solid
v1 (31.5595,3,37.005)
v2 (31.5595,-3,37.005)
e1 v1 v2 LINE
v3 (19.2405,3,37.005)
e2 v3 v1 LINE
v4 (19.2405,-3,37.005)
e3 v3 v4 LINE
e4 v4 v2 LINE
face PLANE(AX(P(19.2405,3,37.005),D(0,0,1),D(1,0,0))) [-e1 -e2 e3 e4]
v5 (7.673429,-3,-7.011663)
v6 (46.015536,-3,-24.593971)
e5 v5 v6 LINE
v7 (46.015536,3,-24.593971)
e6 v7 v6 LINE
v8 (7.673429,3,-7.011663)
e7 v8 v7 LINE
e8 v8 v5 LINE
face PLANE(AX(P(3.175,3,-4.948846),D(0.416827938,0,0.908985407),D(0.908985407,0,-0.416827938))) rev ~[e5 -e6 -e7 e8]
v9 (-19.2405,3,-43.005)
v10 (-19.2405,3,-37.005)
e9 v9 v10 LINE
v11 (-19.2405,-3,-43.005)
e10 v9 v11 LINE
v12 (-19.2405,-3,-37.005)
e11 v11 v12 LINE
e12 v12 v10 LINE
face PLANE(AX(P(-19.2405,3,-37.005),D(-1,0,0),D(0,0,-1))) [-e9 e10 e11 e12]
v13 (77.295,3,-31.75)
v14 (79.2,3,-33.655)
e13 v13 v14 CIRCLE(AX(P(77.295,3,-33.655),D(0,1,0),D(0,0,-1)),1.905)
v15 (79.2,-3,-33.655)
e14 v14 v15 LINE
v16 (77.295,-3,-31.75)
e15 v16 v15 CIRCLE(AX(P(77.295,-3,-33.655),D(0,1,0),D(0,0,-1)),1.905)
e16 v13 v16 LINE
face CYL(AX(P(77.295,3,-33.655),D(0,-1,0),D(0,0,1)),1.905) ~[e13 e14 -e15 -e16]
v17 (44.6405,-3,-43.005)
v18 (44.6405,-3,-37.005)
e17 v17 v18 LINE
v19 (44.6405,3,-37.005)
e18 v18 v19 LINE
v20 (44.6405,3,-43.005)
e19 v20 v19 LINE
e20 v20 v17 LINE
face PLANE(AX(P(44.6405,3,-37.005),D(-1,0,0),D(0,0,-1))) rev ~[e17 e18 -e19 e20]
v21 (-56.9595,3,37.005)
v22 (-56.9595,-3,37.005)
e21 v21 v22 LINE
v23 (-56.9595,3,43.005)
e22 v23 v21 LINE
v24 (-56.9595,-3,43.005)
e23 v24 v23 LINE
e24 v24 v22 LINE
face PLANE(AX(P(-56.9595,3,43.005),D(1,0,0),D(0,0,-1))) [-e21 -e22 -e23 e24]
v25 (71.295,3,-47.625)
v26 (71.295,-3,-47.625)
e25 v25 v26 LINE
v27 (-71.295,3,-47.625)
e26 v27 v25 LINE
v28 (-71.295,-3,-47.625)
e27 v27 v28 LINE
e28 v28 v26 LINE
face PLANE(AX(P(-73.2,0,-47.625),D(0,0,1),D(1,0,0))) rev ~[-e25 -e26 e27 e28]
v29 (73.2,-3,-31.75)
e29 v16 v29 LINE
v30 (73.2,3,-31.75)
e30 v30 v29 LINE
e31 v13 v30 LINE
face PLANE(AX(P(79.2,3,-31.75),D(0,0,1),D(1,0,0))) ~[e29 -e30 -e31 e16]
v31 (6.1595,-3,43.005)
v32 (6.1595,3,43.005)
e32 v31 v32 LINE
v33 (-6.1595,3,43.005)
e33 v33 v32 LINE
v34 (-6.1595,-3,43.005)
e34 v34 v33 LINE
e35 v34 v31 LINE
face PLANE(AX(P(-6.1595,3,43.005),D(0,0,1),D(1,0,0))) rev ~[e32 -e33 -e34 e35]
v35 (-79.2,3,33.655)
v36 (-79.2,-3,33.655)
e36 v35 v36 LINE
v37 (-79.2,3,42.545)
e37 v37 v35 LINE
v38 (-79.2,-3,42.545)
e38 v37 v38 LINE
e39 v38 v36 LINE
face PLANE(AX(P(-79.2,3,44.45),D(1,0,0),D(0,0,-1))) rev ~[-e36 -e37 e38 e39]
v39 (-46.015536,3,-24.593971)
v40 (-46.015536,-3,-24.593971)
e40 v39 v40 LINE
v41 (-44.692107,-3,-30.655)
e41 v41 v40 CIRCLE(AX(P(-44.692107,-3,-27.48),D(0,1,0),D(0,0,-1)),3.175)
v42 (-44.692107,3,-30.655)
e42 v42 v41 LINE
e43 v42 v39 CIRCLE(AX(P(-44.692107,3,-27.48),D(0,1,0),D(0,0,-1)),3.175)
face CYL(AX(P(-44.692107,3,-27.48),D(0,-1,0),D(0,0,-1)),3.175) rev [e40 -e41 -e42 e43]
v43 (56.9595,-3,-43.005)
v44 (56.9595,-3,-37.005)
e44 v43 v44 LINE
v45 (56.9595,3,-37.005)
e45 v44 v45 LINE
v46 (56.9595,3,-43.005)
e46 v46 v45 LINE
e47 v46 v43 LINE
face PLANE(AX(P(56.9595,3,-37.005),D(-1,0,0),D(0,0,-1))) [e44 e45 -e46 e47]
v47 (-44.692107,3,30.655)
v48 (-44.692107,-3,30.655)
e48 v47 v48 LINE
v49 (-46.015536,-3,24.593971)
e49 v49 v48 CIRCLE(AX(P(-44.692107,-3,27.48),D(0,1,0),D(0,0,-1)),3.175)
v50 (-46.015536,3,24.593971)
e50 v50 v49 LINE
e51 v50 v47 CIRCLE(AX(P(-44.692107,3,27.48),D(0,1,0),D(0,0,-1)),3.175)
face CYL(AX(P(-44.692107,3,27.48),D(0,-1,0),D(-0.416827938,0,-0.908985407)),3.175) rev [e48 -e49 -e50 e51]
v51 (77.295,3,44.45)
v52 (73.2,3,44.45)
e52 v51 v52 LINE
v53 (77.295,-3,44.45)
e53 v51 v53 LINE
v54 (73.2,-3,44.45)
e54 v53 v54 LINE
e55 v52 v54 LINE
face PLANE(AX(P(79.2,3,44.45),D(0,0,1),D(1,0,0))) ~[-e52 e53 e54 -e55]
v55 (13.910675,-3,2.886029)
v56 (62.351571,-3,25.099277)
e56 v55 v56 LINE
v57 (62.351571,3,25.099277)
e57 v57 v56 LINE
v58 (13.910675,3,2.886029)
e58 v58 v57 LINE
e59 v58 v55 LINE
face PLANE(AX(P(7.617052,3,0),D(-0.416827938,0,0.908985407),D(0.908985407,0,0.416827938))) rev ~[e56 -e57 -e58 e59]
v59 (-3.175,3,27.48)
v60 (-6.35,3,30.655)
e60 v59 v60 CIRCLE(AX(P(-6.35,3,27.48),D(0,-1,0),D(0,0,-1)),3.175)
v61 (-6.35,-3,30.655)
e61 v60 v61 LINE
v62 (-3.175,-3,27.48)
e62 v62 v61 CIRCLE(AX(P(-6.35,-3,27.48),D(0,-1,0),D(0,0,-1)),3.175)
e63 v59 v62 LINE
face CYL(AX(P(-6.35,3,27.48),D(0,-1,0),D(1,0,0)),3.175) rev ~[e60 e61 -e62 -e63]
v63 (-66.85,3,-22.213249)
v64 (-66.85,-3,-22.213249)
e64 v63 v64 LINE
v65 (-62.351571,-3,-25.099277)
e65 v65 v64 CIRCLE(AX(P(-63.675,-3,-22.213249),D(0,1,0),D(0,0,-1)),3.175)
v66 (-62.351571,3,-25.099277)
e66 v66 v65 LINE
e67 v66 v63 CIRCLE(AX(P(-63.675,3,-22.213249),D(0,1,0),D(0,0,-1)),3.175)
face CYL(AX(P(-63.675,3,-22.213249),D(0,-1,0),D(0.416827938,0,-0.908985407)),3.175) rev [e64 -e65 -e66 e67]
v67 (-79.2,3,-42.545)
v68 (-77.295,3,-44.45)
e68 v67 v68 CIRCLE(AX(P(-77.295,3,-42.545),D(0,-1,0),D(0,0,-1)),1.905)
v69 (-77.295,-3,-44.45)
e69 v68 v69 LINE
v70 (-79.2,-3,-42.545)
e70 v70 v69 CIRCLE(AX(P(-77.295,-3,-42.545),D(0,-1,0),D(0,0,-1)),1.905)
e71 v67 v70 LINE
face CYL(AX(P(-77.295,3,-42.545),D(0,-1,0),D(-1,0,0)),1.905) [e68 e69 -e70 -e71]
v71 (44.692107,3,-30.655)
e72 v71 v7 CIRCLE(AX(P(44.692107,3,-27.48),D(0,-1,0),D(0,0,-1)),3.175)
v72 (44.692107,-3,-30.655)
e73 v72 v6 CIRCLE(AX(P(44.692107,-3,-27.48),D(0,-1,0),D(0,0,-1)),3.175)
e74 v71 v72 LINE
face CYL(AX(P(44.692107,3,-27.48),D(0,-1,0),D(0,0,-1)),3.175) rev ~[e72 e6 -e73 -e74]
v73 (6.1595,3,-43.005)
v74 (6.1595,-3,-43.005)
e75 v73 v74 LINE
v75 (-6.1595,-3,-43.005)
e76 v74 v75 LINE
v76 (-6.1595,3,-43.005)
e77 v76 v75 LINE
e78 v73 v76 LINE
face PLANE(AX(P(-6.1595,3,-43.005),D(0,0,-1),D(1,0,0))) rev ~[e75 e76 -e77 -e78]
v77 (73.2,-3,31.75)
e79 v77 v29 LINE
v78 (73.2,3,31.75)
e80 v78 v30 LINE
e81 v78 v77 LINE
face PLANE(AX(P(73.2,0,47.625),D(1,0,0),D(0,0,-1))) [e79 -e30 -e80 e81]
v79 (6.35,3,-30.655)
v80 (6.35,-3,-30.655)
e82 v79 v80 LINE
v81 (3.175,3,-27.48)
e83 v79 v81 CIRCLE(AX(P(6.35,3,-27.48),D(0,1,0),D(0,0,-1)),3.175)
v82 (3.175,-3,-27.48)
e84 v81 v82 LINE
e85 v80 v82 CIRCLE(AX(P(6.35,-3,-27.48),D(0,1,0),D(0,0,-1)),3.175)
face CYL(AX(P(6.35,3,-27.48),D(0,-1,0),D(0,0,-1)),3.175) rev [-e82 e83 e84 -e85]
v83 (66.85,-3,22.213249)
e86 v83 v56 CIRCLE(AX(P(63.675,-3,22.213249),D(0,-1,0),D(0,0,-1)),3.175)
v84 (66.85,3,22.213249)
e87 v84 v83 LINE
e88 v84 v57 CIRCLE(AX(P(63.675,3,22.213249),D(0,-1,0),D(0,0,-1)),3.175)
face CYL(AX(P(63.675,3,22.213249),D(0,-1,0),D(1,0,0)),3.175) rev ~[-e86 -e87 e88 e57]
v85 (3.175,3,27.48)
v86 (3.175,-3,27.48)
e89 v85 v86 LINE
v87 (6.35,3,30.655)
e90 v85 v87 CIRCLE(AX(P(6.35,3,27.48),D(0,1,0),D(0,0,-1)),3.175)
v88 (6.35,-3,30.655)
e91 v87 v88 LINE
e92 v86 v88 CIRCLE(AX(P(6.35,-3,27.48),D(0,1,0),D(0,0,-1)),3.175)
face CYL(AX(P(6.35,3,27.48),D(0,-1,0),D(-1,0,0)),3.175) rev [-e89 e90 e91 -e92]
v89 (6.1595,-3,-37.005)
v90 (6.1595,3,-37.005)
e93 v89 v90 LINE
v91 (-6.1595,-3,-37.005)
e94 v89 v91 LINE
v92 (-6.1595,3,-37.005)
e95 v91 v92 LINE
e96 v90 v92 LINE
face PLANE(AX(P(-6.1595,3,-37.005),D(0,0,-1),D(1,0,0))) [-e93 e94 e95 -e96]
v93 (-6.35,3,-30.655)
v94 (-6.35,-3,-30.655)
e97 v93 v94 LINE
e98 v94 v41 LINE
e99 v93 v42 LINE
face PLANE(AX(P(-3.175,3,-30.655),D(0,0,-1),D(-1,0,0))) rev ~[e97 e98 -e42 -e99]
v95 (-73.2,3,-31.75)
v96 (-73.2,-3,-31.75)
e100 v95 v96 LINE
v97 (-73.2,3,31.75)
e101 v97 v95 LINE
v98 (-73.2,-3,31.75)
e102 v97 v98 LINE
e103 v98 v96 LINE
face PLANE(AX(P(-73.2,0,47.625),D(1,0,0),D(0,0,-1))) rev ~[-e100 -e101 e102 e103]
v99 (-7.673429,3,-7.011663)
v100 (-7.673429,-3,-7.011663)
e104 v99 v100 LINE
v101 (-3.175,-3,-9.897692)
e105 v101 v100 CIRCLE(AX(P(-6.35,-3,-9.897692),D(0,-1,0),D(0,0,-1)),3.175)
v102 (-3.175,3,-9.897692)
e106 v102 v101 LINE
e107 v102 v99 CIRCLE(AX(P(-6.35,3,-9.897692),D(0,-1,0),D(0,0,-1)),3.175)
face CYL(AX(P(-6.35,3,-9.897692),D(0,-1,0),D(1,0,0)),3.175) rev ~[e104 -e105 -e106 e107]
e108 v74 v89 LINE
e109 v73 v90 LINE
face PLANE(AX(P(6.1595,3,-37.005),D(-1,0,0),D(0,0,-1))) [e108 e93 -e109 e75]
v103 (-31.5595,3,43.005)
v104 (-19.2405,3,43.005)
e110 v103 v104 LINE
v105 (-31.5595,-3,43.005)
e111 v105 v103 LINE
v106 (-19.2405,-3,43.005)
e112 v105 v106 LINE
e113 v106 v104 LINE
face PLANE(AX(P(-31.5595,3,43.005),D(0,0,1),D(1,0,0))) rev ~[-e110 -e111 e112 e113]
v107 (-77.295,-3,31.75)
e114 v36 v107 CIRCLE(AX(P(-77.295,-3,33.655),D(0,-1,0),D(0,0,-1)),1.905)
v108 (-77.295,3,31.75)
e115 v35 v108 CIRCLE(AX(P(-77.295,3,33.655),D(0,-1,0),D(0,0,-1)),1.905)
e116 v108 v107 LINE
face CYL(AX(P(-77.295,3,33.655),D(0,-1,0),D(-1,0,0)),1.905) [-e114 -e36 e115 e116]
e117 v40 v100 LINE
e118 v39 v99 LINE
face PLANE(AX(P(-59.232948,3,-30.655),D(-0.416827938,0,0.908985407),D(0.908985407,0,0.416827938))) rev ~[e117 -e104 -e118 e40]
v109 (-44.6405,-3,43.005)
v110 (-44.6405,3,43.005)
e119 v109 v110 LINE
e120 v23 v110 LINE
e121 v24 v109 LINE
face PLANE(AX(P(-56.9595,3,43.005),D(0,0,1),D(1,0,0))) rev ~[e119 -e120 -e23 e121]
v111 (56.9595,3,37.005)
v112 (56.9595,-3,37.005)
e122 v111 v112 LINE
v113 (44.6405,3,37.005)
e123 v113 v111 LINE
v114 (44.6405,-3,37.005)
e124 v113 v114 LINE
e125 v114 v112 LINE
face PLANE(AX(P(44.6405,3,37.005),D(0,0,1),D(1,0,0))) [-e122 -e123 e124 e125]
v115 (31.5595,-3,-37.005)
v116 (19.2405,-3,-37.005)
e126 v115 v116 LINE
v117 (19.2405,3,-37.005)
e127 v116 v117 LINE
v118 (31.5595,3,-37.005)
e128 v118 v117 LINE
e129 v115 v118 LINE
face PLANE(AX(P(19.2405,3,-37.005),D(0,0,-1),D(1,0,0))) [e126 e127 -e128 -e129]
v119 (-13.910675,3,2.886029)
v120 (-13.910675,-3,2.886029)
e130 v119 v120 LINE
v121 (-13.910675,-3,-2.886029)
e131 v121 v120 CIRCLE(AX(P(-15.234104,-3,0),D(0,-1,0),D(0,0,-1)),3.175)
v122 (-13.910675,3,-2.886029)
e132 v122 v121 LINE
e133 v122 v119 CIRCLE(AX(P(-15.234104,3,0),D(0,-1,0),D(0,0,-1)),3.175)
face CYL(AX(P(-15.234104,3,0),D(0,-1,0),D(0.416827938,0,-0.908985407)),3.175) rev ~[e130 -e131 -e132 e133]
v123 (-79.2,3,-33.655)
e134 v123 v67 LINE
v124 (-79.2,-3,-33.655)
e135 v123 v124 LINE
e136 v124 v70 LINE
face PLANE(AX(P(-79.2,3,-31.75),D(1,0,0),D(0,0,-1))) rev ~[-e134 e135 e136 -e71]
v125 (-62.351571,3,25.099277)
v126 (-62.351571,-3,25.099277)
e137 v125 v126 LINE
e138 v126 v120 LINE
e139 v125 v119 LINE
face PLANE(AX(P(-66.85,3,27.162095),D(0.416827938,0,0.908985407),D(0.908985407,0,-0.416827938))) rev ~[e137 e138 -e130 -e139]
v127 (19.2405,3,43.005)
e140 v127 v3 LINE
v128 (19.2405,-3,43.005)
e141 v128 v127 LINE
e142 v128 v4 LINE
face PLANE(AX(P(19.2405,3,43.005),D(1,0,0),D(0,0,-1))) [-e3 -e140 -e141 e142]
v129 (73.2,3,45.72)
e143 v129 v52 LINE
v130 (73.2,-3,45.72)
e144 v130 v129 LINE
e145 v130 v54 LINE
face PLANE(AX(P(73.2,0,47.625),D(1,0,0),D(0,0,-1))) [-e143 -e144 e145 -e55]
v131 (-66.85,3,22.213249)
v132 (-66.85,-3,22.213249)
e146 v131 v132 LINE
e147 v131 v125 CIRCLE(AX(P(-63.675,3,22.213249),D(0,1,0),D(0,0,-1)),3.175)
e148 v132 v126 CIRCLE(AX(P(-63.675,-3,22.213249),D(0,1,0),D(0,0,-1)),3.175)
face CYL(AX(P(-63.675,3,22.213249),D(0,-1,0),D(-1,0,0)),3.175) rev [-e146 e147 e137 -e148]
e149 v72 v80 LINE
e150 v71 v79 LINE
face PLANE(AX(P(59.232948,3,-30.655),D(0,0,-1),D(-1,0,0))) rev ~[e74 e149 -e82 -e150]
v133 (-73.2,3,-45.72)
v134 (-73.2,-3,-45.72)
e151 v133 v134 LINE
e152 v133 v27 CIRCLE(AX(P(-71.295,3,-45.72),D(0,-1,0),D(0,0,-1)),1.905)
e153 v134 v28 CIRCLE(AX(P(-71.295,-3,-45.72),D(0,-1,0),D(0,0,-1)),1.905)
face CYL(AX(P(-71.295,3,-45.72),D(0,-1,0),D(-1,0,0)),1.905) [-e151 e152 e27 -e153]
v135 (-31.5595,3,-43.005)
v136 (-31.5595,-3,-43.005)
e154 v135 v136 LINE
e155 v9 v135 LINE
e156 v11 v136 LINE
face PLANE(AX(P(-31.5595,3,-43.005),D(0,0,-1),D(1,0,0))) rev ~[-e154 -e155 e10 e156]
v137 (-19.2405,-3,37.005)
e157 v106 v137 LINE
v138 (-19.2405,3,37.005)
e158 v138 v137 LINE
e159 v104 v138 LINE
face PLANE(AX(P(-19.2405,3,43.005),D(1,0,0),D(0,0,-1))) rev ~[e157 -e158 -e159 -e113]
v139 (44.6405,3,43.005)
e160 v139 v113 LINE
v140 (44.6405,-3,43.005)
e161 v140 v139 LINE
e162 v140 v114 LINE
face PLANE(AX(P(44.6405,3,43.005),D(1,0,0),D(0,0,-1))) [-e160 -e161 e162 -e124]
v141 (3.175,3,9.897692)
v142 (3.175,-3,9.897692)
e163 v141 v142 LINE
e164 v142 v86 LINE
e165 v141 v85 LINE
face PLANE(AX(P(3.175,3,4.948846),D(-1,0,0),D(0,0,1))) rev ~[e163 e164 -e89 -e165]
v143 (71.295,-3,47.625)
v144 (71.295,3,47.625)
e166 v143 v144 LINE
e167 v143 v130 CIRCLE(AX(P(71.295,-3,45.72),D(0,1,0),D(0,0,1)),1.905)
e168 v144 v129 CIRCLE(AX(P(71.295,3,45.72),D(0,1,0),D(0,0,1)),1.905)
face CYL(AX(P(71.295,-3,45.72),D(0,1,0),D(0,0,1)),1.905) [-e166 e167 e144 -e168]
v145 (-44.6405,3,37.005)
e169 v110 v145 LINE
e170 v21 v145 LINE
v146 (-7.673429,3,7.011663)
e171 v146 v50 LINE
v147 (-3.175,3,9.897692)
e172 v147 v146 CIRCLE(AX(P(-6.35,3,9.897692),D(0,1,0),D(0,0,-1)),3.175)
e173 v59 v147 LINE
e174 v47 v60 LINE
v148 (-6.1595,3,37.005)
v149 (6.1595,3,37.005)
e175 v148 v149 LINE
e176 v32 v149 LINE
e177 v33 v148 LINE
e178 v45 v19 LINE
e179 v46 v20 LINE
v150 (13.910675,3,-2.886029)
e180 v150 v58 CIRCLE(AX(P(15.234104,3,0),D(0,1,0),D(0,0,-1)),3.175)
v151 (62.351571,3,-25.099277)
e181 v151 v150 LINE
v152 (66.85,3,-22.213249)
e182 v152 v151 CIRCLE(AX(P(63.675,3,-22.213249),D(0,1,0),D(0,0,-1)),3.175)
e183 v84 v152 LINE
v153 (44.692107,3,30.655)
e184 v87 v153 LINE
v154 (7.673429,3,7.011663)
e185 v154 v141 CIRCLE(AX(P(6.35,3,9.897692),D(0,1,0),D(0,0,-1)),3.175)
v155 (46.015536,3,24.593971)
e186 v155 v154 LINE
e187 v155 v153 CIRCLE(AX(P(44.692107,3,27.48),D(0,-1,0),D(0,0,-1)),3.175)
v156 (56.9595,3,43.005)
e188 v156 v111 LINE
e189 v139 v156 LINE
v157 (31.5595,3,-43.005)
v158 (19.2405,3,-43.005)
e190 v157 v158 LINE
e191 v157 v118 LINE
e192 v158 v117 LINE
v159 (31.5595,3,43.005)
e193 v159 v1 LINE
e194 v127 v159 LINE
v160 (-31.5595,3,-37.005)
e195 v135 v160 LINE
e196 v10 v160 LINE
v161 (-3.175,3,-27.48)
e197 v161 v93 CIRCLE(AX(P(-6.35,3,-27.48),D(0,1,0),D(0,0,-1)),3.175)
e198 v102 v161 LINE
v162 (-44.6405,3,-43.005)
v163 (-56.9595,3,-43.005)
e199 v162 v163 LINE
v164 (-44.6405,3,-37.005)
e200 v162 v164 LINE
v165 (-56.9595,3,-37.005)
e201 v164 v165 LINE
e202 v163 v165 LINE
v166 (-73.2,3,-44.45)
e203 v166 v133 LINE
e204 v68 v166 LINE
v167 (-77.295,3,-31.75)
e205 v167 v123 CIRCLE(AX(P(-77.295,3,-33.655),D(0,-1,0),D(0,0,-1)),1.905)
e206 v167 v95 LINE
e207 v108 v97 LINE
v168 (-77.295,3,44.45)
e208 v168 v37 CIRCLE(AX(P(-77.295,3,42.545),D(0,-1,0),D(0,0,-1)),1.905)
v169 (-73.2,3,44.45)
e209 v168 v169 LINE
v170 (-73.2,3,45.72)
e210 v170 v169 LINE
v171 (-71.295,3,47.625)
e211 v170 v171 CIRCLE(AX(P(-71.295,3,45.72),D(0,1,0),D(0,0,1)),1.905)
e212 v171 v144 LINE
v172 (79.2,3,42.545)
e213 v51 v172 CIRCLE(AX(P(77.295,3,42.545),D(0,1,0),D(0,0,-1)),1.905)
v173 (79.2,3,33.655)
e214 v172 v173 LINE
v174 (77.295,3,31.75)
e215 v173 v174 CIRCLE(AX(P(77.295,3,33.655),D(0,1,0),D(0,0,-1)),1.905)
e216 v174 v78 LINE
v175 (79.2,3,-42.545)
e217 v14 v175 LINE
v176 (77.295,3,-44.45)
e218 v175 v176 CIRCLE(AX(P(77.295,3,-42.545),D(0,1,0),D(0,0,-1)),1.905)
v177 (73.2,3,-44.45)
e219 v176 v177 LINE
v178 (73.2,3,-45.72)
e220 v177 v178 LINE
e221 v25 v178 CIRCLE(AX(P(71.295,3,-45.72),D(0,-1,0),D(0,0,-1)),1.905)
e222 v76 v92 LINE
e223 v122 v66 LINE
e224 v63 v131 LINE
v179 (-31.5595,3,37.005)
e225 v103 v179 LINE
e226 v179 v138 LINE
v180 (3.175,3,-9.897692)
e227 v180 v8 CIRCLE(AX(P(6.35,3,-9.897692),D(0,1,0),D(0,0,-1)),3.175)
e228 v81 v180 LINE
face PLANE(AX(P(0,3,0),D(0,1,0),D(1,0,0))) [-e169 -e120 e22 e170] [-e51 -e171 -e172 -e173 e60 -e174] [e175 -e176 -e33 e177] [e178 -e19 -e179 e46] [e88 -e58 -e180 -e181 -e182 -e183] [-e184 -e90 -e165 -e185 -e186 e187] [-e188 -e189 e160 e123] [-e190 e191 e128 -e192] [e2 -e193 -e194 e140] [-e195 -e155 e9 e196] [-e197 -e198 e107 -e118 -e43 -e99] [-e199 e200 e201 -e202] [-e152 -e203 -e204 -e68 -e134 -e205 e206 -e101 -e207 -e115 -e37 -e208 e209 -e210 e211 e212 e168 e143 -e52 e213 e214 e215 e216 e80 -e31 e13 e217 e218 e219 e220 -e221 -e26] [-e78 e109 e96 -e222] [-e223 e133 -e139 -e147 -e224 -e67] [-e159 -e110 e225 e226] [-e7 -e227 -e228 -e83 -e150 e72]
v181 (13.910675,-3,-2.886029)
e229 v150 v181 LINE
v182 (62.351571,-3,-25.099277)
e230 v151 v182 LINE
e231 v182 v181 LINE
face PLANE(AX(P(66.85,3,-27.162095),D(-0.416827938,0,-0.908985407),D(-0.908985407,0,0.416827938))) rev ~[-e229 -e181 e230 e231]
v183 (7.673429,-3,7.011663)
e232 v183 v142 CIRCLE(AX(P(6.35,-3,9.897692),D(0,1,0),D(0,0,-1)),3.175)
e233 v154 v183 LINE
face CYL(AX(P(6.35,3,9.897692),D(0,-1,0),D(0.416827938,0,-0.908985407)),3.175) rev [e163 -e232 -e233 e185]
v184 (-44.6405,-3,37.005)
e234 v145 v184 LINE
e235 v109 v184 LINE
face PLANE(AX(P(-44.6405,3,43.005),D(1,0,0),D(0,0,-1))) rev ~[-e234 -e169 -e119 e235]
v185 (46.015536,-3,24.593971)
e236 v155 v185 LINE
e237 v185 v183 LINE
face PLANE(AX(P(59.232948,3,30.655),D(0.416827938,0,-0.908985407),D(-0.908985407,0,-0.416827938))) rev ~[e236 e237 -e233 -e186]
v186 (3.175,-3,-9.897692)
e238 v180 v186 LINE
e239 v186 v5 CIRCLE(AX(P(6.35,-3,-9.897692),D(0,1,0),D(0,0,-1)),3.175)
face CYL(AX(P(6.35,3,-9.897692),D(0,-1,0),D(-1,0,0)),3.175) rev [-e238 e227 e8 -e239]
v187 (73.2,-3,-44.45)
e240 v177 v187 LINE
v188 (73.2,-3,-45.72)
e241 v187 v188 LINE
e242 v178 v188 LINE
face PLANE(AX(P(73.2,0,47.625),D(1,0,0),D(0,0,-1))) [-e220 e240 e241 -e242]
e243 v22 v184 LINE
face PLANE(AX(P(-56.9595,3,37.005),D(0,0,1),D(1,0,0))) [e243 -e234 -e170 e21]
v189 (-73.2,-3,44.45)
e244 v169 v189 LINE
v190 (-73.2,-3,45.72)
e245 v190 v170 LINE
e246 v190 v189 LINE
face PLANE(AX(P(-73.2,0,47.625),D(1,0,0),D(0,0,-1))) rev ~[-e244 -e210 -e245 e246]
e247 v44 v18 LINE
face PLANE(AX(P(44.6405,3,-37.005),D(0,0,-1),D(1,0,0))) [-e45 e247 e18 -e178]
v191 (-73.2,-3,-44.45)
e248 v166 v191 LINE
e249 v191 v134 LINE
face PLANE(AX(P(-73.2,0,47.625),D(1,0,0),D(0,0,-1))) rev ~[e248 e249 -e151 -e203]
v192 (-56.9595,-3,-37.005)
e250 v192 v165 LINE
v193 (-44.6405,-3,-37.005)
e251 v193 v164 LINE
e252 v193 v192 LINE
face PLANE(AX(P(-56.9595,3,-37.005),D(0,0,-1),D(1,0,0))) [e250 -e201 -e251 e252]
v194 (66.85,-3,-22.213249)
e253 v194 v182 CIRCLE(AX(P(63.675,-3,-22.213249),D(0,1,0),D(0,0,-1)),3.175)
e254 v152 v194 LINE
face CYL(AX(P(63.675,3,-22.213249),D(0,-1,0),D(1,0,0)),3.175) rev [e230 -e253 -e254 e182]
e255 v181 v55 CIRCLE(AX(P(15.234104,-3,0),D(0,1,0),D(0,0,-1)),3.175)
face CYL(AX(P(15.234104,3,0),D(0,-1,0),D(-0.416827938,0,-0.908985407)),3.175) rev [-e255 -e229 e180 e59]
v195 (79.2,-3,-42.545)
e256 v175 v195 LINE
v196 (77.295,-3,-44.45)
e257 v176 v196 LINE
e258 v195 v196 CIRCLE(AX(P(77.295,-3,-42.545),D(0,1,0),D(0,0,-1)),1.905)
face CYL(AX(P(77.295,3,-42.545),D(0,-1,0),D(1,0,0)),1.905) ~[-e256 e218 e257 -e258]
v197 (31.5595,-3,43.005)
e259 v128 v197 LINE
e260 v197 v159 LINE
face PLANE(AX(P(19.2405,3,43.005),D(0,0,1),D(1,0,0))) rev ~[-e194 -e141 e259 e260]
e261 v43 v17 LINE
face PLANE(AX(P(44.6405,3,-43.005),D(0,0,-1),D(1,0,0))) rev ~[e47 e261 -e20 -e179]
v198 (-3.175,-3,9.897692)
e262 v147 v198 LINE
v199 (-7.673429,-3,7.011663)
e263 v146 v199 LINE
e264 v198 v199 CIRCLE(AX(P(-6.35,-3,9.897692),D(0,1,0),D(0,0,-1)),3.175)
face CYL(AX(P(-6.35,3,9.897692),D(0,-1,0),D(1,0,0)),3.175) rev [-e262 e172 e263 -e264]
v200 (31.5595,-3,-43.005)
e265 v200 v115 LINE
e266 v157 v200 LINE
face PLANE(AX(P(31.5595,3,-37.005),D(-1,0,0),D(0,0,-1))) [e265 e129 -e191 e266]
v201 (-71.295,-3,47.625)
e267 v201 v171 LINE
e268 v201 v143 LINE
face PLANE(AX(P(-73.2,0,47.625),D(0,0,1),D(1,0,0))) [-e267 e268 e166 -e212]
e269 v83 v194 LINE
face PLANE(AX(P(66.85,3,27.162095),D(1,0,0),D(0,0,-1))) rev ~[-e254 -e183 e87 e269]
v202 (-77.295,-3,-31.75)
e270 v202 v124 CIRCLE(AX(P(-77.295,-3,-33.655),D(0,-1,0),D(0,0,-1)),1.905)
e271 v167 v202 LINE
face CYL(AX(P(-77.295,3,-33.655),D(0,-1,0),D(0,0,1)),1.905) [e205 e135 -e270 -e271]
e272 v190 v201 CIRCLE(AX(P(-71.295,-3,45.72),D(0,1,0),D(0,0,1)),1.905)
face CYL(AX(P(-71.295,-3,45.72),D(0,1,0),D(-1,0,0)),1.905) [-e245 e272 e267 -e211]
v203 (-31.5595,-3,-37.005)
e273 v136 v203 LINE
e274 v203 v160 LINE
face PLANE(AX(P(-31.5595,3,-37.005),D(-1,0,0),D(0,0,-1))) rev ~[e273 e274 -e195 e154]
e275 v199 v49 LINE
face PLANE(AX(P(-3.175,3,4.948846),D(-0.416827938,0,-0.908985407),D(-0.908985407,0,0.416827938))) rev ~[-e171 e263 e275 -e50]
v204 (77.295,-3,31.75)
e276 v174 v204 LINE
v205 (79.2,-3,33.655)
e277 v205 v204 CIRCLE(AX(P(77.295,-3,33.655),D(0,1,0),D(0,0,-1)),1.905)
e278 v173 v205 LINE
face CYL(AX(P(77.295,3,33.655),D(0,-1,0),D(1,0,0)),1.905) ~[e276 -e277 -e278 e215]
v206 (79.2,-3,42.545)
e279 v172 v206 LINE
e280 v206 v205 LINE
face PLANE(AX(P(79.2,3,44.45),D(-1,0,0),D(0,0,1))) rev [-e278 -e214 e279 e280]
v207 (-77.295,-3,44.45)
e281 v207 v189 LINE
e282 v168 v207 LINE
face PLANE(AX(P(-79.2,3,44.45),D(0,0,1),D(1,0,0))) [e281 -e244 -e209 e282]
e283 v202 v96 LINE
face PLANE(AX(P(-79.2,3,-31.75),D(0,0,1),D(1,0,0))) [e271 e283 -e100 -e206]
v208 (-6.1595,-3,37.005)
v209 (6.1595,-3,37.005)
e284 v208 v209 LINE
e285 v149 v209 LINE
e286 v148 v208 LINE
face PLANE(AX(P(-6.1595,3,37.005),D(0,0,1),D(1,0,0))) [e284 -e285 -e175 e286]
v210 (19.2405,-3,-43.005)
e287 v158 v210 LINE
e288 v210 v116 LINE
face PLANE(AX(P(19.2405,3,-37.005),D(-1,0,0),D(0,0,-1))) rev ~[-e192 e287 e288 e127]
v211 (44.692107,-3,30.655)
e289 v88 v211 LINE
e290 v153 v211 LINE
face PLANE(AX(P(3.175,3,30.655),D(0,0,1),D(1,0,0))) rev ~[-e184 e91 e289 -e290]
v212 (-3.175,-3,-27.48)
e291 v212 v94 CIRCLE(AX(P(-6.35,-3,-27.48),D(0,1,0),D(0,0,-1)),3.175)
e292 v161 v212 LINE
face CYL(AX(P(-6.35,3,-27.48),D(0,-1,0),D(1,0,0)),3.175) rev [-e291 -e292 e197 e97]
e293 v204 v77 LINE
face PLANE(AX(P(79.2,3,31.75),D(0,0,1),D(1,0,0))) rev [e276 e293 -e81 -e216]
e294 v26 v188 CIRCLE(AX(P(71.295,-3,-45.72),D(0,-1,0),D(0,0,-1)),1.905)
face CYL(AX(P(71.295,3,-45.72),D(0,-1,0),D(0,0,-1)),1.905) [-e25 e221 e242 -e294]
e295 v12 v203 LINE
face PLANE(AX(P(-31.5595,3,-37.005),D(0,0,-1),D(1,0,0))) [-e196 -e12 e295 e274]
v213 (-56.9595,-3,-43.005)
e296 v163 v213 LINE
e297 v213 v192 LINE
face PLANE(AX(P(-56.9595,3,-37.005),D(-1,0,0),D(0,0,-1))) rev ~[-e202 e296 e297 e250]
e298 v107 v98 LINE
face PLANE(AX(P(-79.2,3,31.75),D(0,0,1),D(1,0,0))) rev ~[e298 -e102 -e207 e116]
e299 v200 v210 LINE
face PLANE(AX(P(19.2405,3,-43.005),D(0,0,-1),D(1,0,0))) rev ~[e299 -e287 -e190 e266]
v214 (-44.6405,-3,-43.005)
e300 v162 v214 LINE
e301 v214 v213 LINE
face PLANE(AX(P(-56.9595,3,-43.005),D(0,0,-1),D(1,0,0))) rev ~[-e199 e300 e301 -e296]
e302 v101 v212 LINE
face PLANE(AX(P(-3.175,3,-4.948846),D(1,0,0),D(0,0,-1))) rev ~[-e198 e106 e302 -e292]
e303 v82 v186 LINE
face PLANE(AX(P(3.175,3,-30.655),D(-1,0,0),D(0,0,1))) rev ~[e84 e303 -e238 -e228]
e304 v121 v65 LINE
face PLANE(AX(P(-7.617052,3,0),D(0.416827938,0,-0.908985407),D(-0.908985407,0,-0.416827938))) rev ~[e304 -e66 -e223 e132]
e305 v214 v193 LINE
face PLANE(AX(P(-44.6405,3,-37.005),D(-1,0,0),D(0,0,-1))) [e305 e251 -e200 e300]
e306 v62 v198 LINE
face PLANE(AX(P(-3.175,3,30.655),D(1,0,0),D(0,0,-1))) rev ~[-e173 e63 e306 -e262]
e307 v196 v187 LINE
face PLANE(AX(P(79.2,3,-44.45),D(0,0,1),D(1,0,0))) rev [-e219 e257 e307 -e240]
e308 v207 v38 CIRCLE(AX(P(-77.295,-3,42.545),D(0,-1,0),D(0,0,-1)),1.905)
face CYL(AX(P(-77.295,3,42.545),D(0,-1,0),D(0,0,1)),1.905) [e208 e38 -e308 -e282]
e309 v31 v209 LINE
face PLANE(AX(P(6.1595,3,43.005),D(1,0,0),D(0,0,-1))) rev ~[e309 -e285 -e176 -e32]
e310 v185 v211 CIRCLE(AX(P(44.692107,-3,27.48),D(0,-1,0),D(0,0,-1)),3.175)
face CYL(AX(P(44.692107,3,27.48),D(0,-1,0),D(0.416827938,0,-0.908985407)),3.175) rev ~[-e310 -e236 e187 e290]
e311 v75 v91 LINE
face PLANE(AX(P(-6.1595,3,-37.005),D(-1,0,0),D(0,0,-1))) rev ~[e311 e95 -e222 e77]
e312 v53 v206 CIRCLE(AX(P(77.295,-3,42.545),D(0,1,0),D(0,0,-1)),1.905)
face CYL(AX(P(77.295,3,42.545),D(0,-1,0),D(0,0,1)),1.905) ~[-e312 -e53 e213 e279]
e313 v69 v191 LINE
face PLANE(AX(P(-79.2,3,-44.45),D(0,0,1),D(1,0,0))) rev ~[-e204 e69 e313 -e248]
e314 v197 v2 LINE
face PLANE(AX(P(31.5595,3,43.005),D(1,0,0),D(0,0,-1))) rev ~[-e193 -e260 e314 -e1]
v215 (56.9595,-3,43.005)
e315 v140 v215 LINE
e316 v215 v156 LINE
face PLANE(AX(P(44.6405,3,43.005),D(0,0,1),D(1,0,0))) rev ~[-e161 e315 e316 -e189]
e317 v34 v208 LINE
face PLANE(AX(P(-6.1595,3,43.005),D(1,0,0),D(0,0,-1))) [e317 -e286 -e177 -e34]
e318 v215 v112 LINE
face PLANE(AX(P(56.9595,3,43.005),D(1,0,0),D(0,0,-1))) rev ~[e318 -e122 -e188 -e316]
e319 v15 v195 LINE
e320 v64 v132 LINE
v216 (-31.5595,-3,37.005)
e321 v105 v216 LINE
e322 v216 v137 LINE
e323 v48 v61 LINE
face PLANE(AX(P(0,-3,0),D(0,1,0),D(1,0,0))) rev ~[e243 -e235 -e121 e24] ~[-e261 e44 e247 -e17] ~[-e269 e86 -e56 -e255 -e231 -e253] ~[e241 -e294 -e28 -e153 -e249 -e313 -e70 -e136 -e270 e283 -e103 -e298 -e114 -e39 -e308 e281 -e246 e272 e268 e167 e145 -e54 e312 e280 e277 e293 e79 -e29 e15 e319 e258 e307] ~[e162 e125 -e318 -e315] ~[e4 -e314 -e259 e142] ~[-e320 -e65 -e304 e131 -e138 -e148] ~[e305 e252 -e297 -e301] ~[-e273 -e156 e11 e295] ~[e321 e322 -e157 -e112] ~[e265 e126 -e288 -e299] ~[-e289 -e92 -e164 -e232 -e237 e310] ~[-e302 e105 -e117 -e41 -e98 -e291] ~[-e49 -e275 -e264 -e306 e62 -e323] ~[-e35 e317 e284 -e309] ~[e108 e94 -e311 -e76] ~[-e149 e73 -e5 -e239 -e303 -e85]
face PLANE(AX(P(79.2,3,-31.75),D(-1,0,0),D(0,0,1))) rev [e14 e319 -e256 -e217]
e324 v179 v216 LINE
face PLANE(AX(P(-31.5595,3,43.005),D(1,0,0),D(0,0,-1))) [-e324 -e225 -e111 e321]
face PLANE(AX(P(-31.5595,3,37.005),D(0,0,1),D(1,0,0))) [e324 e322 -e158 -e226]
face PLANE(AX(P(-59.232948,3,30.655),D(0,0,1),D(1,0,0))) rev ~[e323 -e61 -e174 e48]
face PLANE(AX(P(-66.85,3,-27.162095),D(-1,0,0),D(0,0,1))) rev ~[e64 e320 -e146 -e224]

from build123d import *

# Parameters (mm, degrees)
SKETCH1_W           = 146.4
SKETCH1_H           = 95.25
BOSS_EXTRUDE1_DEPTH = 3
SKETCH2_W           = 6
SKETCH2_H           = 12.7
BOSS_EXTRUDE2_DEPTH = 6
SKETCH3_W           = 12.319
SKETCH3_H           = 6
CUT_EXTRUDE1_DEPTH  = 93.610909859
LPATTERN3_COUNT     = 3
LPATTERN3_PITCH     = 25.4
LPATTERN3_COL_COUNT = 3
LPATTERN3_COL_PITCH = 25.4
CUT_EXTRUDE2_DEPTH  = 93.610909859
FILLET1_R           = 3.175
FILLET2_R           = 1.905


with BuildPart() as part:
    # Sketch1 → Boss-Extrude1 (new, symmetric)
    with BuildSketch(Plane(origin=(0, 0, 0), x_dir=(1, 0, 0), z_dir=(0, 1, 0))):
        Rectangle(SKETCH1_W, SKETCH1_H)
    extrude(amount=BOSS_EXTRUDE1_DEPTH, both=True)

    # Sketch2 → Boss-Extrude2 (add)
    with BuildSketch(Plane(origin=(0, 3, 0), x_dir=(1, 0, 0), z_dir=(0, 1, 0))):
        with Locations((-76.2, 38.1)):
            Rectangle(SKETCH2_W, SKETCH2_H)
        with Locations((-76.2, -38.1)):
            Rectangle(SKETCH2_W, SKETCH2_H)
    boss_extrude2 = extrude(amount=-BOSS_EXTRUDE2_DEPTH)

    # Mirror1: Boss-Extrude2 across plane
    add(boss_extrude2.mirror(Plane(origin=(0, 0, 0), x_dir=(0, 0, 1), z_dir=(1, 0, 0))))

    # Sketch3 → Cut-Extrude1 (cut, symmetric)
    with BuildSketch(Plane(origin=(0, 3, 0), x_dir=(1, 0, 0), z_dir=(0, 1, 0))):
        with Locations((0, 40.005)):
            Rectangle(SKETCH3_W, SKETCH3_H)
        with Locations((0, -40.005)):
            Rectangle(SKETCH3_W, SKETCH3_H)
    cut_extrude1 = extrude(amount=CUT_EXTRUDE1_DEPTH, both=True, mode=Mode.SUBTRACT)

    # LPattern3: Cut-Extrude1 ×3
    with Locations(*[(i * LPATTERN3_PITCH, 0, 0) for i in range(1, LPATTERN3_COUNT)]):
        add(cut_extrude1, mode=Mode.SUBTRACT)

    # LPattern3 col: Cut-Extrude1 ×3
    with Locations(*[(-i * LPATTERN3_COL_PITCH, 0, 0) for i in range(1, LPATTERN3_COL_COUNT)]):
        add(cut_extrude1, mode=Mode.SUBTRACT)

    # Sketch4 → Cut-Extrude2 (cut, through all)
    with BuildSketch(Plane(origin=(0, 3, 0), x_dir=(1, 0, 0), z_dir=(0, 1, 0))):
        Polygon((-7.617051812, 0), (-66.85, 27.16209464), (-66.85, -27.16209464), align=None)
        Polygon((-3.175, 4.948845898), (-3.175, 30.655), (-59.232948188, 30.655), align=None)
        Polygon((59.232948188, 30.655), (3.175, 30.655), (3.175, 4.948845898), align=None)
        Polygon((66.85, -27.16209464), (66.85, 27.16209464), (7.617051812, 0), align=None)
        Polygon((59.232948188, -30.655), (3.175, -4.948845898), (3.175, -30.655), align=None)
        Polygon((-3.175, -30.655), (-3.175, -4.948845898), (-59.232948188, -30.655), align=None)
    extrude(amount=-CUT_EXTRUDE2_DEPTH, mode=Mode.SUBTRACT)

    # Fillet1
    fillet1_edges = [part.edges().sort_by_distance(p)[0] for p in [
        (66.85, 0, -27.16209464),
        (66.85, 0, 27.16209464),
        (7.617051812, 0, 0),
        (3.175, 0, 4.948845898),
        (59.232948188, 0, 30.655),
        (3.175, 0, 30.655),
        (3.175, 0, -30.655),
        (59.232948188, 0, -30.655),
        (3.175, 0, -4.948845898),
        (-59.232948188, 0, -30.655),
        (-3.175, 0, -30.655),
        (-3.175, 0, -4.948845898),
        (-3.175, 0, 4.948845898),
        (-3.175, 0, 30.655),
        (-59.232948188, 0, 30.655),
        (-7.617051812, 0, 0),
        (-66.85, 0, 27.16209464),
        (-66.85, 0, -27.16209464),
    ]]
    fillet(fillet1_edges, radius=FILLET1_R)

    # Fillet2
    fillet2_edges = [part.edges().sort_by_distance(p)[0] for p in [
        (-79.2, 0, -31.75),
        (-79.2, 0, -44.45),
        (-79.2, 0, 44.45),
        (-79.2, 0, 31.75),
        (79.2, 0, -31.75),
        (79.2, 0, -44.45),
        (79.2, 0, 44.45),
        (79.2, 0, 31.75),
        (-73.2, 0, -47.625),
        (73.2, 0, -47.625),
        (73.2, 0, 47.625),
        (-73.2, 0, 47.625),
    ]]
    fillet(fillet2_edges, radius=FILLET2_R)


solid = part.part
